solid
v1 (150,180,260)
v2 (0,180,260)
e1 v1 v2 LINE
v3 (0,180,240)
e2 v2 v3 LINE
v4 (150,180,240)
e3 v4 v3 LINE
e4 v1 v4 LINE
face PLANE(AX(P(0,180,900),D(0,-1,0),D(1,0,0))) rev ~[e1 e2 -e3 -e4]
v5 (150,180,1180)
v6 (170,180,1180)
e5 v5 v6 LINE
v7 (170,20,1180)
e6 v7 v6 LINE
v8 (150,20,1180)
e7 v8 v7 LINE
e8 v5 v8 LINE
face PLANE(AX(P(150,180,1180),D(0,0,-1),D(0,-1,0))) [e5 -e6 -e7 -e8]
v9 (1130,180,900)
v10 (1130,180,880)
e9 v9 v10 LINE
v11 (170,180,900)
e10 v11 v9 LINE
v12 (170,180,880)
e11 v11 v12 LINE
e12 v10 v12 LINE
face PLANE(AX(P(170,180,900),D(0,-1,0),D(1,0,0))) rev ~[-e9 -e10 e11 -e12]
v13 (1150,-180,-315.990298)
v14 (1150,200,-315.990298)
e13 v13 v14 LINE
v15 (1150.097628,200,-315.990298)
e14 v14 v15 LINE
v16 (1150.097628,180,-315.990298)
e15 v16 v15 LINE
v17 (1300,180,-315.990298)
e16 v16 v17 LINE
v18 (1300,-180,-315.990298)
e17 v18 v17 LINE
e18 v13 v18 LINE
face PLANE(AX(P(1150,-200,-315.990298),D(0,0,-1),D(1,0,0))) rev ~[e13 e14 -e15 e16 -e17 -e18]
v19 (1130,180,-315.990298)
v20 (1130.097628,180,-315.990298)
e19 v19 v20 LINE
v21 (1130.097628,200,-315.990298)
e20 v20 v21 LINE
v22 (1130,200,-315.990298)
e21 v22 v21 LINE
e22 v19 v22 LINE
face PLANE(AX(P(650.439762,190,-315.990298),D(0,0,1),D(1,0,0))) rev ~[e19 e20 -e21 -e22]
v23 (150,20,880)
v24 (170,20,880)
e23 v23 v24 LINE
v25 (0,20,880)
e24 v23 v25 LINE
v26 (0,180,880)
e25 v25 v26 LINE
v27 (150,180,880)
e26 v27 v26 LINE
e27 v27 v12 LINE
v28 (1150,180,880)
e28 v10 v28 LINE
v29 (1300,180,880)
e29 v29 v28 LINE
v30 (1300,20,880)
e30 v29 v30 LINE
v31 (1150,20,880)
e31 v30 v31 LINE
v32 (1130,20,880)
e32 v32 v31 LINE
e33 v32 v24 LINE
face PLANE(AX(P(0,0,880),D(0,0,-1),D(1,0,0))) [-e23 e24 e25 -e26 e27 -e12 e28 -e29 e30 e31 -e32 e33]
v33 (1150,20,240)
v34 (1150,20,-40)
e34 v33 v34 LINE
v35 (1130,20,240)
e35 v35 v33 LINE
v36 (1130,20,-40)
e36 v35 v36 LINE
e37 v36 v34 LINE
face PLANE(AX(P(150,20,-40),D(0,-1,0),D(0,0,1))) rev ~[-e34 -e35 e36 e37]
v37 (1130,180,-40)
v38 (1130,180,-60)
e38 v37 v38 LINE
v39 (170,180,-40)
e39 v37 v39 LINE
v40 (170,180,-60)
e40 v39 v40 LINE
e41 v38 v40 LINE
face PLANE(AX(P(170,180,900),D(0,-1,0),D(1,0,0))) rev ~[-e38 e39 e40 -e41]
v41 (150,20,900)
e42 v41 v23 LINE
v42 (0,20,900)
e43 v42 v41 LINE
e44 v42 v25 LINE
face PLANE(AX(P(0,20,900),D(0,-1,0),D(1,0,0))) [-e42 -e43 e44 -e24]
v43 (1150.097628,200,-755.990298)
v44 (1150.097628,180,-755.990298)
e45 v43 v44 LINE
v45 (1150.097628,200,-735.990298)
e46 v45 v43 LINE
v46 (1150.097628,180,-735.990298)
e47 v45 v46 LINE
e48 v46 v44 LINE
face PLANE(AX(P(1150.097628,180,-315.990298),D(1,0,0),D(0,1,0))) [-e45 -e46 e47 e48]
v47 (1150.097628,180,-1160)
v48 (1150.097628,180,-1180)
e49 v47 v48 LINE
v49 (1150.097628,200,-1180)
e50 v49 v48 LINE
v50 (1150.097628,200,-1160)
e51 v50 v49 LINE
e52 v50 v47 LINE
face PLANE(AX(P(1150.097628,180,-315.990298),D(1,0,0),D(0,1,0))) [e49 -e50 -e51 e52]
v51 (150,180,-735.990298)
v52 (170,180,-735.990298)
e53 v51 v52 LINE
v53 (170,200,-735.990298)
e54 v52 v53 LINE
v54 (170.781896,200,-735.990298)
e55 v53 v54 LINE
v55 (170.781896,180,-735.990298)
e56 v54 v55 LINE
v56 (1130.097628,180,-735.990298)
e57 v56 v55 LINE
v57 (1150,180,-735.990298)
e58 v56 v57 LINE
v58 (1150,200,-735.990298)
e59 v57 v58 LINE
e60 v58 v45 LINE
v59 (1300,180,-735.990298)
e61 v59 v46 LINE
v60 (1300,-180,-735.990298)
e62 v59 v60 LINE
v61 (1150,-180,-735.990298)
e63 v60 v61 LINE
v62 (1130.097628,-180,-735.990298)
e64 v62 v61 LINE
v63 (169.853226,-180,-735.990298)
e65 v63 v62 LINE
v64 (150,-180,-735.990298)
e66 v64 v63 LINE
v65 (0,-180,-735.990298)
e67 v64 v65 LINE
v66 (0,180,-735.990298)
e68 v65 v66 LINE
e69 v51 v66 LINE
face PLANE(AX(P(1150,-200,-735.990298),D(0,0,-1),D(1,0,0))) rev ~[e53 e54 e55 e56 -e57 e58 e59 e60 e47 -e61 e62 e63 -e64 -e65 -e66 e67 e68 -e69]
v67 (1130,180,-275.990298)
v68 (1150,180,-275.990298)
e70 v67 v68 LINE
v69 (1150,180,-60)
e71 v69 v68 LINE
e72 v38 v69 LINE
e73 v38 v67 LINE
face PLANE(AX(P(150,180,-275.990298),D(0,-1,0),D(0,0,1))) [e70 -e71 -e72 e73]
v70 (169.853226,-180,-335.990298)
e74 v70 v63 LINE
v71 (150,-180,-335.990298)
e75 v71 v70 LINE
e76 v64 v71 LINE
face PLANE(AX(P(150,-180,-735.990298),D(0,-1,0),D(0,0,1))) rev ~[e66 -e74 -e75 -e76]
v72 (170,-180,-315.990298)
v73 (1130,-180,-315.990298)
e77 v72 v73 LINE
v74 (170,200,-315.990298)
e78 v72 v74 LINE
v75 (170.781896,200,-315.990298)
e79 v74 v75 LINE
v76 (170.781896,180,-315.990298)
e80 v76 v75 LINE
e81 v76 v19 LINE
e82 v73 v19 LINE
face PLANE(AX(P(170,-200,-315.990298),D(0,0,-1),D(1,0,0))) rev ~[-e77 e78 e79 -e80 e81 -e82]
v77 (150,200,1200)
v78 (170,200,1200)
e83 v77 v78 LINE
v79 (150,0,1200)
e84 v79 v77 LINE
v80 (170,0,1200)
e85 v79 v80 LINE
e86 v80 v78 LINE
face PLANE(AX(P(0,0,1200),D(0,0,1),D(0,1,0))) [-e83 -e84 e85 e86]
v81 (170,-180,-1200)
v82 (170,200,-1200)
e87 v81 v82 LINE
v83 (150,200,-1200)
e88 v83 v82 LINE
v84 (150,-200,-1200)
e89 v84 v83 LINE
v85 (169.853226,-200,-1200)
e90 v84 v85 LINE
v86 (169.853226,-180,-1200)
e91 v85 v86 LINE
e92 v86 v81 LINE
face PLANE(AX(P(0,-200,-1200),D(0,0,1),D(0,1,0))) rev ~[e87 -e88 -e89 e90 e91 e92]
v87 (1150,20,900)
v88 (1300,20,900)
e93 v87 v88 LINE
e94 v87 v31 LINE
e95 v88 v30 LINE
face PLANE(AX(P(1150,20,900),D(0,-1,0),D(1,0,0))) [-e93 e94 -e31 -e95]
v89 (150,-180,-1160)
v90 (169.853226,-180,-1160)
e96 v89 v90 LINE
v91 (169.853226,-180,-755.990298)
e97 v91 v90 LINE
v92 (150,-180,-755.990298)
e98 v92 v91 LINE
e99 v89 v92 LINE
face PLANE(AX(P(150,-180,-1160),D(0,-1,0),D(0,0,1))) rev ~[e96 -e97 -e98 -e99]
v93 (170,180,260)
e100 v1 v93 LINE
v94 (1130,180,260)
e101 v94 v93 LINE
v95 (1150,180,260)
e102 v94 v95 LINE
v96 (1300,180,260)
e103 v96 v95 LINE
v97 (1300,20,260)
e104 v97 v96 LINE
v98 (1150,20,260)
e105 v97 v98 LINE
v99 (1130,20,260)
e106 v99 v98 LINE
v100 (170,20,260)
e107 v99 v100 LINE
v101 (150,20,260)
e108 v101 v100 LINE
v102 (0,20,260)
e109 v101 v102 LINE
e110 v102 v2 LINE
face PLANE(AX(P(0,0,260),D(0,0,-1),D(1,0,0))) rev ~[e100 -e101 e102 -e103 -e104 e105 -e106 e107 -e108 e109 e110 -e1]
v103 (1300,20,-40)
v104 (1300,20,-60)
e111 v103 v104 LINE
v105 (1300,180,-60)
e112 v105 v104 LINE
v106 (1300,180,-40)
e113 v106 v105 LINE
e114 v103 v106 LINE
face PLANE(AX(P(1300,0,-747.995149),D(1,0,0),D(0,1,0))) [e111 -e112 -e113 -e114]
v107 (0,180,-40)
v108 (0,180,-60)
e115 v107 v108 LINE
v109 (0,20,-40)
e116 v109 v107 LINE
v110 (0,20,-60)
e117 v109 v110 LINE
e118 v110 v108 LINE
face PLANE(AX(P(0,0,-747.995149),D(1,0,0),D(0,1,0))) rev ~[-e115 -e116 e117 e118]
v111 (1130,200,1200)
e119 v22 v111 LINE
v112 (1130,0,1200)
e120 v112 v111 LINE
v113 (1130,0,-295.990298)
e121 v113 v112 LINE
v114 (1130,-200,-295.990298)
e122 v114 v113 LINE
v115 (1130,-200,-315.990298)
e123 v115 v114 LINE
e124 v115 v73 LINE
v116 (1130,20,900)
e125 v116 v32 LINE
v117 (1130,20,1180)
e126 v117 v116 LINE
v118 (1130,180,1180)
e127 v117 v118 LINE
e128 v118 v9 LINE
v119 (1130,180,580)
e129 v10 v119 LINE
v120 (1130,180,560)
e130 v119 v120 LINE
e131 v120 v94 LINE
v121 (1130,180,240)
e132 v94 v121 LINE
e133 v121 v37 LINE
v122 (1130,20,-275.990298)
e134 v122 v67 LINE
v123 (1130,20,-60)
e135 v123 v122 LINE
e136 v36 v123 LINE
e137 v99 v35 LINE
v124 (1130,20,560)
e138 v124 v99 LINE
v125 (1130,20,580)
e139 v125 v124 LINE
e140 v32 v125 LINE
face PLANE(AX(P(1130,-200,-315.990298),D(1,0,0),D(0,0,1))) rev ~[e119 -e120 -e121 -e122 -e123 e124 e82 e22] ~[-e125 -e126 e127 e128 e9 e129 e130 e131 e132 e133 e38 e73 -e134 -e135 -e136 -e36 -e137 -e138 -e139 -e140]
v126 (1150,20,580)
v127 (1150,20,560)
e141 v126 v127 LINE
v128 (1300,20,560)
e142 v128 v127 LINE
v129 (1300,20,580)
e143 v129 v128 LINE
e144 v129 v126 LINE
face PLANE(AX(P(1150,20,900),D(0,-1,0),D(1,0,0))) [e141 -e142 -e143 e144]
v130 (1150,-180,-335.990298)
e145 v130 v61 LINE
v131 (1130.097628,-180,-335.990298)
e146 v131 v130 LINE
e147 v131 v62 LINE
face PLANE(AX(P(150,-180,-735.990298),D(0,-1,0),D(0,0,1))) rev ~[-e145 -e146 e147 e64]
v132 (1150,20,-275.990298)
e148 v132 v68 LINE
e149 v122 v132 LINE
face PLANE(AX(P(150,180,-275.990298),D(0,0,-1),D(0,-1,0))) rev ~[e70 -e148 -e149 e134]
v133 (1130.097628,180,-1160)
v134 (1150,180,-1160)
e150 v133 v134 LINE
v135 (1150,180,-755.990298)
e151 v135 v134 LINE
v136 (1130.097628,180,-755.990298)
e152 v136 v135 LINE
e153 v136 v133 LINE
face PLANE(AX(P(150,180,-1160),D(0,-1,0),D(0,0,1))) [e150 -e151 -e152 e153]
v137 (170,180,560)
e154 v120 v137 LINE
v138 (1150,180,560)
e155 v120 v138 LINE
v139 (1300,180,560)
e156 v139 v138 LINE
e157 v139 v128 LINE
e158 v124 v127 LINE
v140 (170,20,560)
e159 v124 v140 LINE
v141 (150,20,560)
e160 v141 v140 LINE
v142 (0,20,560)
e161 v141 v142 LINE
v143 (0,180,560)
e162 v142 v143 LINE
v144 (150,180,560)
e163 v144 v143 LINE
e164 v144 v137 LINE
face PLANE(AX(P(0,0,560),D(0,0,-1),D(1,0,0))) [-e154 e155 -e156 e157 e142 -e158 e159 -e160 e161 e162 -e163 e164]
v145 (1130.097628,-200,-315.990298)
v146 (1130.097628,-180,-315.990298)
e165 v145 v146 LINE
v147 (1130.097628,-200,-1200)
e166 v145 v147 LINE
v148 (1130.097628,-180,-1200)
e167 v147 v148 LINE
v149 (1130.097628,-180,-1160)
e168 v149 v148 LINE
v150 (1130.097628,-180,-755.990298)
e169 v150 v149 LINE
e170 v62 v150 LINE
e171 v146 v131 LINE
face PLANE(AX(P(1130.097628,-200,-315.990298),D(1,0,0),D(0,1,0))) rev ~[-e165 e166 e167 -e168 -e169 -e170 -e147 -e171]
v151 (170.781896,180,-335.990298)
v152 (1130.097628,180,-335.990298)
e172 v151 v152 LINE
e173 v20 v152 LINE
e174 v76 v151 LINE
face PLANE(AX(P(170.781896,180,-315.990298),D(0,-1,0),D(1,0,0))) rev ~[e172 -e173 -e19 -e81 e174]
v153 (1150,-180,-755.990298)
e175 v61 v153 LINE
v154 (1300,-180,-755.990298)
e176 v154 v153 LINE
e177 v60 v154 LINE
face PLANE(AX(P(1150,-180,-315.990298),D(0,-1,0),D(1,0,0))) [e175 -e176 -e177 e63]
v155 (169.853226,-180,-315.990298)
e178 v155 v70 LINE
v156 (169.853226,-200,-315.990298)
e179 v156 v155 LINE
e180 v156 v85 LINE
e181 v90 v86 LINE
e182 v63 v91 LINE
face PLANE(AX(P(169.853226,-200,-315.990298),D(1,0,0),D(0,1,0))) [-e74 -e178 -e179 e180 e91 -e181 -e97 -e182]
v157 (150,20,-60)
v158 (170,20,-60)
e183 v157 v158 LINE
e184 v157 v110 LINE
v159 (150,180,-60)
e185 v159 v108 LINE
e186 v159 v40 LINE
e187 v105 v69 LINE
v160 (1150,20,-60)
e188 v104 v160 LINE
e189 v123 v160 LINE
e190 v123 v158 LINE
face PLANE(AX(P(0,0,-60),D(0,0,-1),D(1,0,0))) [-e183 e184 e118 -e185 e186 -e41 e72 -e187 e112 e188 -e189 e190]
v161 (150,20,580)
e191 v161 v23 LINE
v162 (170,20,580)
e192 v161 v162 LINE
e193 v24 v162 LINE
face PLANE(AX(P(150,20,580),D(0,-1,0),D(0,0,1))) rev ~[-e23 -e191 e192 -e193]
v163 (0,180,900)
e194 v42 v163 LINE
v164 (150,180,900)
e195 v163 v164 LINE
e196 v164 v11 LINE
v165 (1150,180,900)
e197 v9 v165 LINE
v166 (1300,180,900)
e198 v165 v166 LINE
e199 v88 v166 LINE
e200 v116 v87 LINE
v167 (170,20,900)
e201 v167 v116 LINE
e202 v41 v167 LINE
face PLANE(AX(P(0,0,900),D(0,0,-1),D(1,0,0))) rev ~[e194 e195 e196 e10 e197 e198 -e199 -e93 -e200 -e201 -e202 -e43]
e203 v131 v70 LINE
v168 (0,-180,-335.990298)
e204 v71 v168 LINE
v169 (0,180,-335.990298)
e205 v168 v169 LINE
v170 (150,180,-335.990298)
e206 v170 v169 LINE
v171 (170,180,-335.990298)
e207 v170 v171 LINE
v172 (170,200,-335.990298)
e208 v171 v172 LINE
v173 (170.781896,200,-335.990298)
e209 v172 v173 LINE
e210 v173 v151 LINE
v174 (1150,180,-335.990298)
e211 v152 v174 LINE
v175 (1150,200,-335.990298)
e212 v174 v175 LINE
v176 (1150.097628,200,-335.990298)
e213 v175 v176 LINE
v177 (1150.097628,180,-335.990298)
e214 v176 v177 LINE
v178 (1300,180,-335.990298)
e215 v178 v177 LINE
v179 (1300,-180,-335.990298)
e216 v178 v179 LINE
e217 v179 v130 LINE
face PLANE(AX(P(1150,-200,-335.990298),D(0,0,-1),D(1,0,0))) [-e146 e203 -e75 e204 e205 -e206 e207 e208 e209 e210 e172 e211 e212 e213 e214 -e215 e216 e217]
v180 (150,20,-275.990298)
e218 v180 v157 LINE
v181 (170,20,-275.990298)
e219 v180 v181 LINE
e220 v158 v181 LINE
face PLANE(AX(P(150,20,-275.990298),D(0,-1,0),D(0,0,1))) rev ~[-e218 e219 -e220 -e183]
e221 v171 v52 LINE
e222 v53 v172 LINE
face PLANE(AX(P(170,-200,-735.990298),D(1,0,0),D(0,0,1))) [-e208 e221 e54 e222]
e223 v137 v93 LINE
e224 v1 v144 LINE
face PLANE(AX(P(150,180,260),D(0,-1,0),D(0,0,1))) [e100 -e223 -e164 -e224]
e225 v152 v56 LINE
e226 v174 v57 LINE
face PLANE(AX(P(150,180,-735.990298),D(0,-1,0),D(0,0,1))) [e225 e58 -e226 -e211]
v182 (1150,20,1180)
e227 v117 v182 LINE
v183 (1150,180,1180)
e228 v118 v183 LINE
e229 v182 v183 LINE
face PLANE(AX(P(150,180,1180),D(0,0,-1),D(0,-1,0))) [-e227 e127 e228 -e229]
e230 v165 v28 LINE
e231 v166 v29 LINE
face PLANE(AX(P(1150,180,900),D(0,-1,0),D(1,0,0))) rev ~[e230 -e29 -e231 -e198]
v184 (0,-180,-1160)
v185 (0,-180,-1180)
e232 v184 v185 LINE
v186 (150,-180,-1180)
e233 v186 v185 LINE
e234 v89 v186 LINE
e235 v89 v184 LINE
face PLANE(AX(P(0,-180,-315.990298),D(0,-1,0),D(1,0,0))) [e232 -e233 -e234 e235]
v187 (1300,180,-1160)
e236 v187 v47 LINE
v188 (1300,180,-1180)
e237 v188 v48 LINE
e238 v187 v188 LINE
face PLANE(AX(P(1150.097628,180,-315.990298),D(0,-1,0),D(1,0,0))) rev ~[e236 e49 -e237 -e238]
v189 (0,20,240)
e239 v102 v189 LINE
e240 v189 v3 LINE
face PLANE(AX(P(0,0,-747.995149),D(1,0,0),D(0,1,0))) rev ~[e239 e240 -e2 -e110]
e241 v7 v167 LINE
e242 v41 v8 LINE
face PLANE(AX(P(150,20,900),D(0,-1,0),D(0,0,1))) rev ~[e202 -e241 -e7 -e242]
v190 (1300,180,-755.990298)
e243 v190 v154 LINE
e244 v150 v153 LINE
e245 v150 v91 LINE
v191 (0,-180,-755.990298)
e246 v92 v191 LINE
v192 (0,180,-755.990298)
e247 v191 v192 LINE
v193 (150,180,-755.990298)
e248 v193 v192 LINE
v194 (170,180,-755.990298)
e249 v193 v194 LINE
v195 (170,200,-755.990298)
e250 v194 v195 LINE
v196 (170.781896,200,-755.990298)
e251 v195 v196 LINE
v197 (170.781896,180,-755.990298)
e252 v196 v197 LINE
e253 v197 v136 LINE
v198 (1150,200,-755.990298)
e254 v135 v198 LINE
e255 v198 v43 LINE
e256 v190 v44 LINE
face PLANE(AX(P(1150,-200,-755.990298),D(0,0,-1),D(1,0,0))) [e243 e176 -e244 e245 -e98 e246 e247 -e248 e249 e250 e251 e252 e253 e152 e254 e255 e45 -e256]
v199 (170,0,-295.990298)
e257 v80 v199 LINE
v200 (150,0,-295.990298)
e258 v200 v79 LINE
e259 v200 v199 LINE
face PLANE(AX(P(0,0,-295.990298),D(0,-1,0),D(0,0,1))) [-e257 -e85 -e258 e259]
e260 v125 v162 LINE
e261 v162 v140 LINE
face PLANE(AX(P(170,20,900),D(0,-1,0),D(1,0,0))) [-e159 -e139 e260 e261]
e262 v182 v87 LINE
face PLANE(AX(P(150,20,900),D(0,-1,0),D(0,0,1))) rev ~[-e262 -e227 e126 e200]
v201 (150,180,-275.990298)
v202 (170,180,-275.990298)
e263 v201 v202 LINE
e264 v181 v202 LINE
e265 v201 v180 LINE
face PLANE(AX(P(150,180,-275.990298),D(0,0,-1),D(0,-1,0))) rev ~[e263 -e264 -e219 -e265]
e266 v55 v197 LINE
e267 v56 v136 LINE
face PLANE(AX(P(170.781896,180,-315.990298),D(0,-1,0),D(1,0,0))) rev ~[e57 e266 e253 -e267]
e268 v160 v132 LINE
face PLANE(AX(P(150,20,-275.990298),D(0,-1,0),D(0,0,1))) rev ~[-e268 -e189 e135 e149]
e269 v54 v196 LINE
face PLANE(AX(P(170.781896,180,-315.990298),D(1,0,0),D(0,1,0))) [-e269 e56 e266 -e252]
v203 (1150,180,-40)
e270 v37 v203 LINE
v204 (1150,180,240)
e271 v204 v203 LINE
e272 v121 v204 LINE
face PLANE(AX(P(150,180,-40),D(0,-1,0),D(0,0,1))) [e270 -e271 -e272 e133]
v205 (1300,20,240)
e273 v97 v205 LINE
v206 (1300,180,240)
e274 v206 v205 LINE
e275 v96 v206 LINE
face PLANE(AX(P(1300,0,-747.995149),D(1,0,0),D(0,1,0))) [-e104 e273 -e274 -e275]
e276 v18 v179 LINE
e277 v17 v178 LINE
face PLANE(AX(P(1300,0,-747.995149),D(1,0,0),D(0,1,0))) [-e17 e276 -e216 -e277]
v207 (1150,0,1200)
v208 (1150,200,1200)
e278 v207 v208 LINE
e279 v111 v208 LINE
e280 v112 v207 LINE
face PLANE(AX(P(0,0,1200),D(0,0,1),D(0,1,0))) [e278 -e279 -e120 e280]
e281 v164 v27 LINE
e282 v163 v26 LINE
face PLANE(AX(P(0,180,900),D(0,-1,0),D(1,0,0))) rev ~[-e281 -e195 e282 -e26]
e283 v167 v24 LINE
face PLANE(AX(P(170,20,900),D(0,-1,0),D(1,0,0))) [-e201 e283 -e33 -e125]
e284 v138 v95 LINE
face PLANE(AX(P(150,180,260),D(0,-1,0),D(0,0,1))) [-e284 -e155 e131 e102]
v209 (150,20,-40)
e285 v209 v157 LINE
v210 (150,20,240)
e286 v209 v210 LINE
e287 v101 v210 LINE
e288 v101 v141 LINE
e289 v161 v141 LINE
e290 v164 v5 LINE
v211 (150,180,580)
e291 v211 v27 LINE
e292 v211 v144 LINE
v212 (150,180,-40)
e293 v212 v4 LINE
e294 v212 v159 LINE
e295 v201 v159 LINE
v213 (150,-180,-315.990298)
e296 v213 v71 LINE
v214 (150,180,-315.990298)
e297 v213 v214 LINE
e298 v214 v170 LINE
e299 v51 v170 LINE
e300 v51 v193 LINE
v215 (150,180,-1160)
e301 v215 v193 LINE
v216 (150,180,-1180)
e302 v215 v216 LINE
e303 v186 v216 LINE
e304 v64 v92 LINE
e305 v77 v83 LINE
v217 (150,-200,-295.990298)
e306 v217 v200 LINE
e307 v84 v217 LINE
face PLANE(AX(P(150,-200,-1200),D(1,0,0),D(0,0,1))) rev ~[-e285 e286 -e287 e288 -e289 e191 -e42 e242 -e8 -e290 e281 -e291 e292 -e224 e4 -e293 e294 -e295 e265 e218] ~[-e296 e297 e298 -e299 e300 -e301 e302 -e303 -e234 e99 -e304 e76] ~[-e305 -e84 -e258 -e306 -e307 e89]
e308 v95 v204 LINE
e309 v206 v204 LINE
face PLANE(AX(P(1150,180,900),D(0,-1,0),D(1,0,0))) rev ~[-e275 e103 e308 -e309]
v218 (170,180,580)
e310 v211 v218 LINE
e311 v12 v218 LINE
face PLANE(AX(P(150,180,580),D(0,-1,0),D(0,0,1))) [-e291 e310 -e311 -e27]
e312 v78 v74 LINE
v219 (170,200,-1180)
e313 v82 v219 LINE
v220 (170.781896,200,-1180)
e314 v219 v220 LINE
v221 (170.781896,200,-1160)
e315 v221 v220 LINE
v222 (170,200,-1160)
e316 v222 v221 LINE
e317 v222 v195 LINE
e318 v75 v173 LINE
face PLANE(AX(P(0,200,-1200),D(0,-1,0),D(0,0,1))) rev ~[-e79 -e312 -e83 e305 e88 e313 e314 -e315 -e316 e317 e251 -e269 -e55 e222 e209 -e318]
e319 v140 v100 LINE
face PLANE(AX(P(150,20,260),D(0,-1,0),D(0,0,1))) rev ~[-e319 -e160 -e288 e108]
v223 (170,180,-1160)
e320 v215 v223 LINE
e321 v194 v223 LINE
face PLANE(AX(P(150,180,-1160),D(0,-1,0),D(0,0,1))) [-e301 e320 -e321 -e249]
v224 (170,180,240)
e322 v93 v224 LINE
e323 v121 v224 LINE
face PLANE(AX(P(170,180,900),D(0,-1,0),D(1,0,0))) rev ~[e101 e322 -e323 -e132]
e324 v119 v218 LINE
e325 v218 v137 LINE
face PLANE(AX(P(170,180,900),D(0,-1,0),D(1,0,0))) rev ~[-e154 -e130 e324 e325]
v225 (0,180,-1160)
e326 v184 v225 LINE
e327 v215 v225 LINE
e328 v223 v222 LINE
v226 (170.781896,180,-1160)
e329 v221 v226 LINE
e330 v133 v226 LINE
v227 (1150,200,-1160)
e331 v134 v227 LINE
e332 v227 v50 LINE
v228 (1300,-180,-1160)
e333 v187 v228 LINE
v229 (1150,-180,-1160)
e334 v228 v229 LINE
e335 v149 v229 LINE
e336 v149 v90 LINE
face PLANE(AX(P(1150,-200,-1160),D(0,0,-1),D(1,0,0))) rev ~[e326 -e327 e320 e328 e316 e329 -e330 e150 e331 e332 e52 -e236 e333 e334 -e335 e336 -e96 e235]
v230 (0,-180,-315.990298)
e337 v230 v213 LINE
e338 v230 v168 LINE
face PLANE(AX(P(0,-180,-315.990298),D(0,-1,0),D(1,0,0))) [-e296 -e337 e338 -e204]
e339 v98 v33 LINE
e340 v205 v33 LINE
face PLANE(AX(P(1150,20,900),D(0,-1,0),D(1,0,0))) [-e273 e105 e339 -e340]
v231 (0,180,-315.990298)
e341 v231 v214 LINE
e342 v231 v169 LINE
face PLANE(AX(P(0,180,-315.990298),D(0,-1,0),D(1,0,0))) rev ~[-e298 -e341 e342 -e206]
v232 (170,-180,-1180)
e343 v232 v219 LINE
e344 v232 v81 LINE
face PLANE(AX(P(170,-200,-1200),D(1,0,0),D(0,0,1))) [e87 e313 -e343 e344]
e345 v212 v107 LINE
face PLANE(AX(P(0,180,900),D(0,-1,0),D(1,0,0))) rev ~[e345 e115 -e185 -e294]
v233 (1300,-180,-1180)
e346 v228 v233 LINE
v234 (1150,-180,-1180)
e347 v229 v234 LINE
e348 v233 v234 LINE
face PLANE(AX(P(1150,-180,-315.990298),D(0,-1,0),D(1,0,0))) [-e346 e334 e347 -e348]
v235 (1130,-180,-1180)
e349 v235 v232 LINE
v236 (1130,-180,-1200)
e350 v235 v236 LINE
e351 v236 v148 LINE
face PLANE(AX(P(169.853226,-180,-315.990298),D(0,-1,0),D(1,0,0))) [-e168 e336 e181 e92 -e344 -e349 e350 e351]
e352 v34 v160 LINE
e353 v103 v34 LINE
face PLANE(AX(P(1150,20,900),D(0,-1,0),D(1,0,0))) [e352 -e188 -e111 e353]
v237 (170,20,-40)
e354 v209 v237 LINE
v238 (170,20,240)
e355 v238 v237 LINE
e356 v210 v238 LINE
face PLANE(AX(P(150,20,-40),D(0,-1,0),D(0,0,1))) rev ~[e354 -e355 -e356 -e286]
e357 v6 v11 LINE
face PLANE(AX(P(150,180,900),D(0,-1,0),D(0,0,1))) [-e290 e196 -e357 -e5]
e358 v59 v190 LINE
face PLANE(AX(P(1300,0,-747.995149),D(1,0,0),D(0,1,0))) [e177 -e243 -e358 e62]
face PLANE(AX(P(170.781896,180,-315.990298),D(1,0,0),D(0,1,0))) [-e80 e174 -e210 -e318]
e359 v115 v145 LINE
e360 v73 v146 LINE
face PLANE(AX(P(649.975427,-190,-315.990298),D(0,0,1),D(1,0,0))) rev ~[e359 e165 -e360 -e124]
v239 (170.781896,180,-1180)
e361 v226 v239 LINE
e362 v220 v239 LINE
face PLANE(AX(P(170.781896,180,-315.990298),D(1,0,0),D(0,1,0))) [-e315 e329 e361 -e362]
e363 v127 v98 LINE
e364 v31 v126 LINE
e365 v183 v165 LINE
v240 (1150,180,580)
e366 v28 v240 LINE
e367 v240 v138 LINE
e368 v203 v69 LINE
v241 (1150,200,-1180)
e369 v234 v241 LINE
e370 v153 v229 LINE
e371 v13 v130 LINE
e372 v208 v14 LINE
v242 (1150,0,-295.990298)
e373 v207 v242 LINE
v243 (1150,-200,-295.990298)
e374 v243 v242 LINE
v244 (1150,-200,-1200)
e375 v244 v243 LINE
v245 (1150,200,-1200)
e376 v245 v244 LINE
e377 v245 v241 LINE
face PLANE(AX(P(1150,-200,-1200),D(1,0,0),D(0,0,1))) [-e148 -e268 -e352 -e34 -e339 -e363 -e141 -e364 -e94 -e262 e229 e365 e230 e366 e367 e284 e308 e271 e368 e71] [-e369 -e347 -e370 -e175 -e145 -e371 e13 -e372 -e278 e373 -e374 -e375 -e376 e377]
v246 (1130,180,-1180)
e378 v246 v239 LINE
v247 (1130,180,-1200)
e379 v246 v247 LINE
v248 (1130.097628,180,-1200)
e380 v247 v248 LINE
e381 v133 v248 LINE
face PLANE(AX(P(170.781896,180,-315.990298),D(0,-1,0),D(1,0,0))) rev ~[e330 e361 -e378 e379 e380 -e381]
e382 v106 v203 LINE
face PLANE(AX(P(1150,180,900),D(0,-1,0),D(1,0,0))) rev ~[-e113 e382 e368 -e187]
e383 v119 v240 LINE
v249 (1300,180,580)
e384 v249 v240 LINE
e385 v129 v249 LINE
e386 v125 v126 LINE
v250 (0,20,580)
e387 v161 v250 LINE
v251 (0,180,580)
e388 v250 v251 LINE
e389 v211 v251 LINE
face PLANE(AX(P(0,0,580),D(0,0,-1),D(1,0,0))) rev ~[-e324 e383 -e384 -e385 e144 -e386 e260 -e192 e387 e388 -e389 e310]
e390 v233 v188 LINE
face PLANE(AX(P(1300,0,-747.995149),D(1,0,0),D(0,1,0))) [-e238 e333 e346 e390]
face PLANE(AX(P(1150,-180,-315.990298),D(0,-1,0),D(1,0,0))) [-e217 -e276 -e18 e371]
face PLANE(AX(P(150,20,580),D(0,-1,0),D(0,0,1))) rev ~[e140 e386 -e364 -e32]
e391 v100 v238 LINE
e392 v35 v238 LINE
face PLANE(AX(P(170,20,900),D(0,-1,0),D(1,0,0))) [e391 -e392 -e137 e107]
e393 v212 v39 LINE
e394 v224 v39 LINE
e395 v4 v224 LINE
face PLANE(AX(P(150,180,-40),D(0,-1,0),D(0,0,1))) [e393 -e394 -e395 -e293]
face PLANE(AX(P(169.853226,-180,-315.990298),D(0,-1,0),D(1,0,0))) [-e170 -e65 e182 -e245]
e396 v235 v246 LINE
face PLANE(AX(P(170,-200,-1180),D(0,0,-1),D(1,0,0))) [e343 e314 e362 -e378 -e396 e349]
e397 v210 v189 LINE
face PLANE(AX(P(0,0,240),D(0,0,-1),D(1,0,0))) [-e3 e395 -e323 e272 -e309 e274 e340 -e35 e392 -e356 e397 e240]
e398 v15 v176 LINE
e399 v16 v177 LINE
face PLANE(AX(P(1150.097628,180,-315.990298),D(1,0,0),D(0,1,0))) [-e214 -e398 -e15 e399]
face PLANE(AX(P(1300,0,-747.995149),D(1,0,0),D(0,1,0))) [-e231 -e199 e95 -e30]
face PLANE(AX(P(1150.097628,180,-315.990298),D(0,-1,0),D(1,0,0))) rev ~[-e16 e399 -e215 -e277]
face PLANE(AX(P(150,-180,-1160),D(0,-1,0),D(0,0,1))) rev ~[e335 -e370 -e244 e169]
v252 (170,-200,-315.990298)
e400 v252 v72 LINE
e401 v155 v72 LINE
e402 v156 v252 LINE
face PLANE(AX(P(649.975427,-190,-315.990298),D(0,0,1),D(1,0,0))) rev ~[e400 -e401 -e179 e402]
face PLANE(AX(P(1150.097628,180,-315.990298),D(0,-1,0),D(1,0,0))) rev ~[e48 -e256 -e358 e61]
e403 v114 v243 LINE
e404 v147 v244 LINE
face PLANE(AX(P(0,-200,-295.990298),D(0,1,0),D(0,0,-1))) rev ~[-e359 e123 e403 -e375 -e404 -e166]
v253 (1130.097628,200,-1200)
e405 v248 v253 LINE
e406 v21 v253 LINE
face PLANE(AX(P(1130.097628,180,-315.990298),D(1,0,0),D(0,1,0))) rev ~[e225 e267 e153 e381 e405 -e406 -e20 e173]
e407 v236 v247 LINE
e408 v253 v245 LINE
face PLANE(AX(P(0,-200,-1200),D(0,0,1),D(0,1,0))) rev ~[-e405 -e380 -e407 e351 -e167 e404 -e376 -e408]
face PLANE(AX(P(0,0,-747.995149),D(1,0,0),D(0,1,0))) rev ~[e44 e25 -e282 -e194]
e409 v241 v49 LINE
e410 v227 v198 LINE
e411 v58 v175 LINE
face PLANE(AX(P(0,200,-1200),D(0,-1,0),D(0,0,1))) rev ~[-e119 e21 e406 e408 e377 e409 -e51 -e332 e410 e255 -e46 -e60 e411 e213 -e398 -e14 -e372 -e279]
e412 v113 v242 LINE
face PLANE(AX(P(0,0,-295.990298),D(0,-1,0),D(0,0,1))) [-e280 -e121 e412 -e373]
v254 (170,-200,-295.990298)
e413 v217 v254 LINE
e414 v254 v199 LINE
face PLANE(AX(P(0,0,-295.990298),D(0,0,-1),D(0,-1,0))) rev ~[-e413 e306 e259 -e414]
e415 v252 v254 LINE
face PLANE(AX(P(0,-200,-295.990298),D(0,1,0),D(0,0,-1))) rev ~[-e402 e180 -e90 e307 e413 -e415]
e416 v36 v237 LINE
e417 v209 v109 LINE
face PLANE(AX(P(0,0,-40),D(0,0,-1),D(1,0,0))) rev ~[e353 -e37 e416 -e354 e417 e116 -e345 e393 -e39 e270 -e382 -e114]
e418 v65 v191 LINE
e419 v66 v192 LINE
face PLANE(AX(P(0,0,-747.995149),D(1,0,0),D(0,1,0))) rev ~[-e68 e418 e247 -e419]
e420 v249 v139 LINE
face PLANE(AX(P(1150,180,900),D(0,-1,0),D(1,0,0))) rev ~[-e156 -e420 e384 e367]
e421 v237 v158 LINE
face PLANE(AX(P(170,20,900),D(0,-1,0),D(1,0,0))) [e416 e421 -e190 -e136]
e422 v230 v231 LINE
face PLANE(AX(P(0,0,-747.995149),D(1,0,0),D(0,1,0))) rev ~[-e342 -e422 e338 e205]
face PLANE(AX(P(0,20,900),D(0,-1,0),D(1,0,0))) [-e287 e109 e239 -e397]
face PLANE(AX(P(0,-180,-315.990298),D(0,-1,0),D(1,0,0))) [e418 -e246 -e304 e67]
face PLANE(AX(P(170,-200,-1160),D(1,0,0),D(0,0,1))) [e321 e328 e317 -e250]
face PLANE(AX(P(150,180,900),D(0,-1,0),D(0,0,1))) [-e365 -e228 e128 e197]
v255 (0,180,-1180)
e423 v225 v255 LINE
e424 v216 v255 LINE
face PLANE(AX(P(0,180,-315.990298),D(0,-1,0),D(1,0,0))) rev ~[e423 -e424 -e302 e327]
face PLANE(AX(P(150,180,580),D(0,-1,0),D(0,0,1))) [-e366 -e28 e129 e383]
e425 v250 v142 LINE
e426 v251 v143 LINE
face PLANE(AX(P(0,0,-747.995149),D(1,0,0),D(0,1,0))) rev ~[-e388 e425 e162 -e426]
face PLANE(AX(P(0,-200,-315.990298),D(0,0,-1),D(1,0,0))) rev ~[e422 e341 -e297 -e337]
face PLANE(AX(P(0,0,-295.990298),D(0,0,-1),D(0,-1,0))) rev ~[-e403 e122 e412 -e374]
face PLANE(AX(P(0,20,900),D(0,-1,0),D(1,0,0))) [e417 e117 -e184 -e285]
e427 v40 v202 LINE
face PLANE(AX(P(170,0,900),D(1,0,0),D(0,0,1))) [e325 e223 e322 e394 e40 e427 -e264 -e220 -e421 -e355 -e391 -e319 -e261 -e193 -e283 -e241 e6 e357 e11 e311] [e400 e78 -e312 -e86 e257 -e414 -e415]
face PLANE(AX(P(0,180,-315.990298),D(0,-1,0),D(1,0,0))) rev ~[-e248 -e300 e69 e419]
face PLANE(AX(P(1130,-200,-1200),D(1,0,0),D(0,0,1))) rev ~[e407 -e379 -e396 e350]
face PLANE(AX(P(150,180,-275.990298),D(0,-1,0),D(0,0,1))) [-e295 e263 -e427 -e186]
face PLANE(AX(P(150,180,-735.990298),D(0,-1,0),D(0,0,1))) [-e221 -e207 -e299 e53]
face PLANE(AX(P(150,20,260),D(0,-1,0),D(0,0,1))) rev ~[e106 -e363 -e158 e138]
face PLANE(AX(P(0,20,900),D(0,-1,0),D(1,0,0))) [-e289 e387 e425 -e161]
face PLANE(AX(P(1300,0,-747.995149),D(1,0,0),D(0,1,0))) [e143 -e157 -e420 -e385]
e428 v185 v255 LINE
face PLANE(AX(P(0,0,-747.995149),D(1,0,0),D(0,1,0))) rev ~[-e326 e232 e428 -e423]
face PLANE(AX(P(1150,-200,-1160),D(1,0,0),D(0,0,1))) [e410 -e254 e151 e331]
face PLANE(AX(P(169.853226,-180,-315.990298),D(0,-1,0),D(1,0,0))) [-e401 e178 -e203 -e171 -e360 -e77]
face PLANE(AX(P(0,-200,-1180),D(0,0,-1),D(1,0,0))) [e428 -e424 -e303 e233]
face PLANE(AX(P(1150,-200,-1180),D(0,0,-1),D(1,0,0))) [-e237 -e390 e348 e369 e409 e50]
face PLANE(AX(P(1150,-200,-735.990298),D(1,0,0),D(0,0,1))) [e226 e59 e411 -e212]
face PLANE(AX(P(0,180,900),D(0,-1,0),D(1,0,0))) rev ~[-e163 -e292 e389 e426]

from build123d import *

# Parameters (mm, degrees)
F0_W      = 200
F0_H      = 1495.990298
F1_DEPTH  = 1300
F2_W      = 150
F2_H      = 300
F2_W_2    = 960
F2_H_2    = 280
F2_H_3    = 235.990298
F3_DEPTH  = 200
F4_W      = 160
F4_H      = 280
F4_H_2    = 300
F4_H_3    = 215.990298
F5_DEPTH  = 1150.001
F6_W      = 150
F6_H      = 20
F6_W_2    = 960
F7_DEPTH  = 1195.990298
F8_W      = 150
F8_H      = 404.009702
F8_H_2    = 400
F8_W_2    = 960
F8_H_3    = 20
F9_DEPTH  = 400.001
F10_W     = 360
F10_H     = 400
F10_H_2   = 404.009702
F11_DEPTH = 1150.001
F12_W     = 150
F12_H     = 20
F12_W_2   = 959.315732
F12_W_3   = 960.244403
F13_DEPTH = 884.010702


with BuildPart() as f1:
    # F0 (on Right) → F1 (new body)
    with BuildSketch(Plane.YZ):
        Polygon((-200, -1200), (200, -1200), (200, -295.990298), (0, -295.990298), (-200, -295.990298), align=None)
        with Locations((100, 452.004851)):
            Rectangle(F0_W, F0_H)
    extrude(amount=F1_DEPTH)

    # F2 (on face) → F3 (cut, through all)
    with BuildSketch(Plane.XZ):
        with Locations((75, 1050)):
            Rectangle(F2_W, F2_H)
        with Locations((650, 1050)):
            Rectangle(F2_W_2, F2_H)
        with Locations((1225, 1050)):
            Rectangle(F2_W, F2_H)
        with Locations((75, 730)):
            Rectangle(F2_W, F2_H)
        with Locations((650, 730)):
            Rectangle(F2_W_2, F2_H)
        with Locations((1225, 730)):
            Rectangle(F2_W, F2_H)
        with Locations((75, 410)):
            Rectangle(F2_W, F2_H)
        with Locations((650, 410)):
            Rectangle(F2_W_2, F2_H)
        with Locations((1225, 410)):
            Rectangle(F2_W, F2_H)
        with Locations((75, 100)):
            Rectangle(F2_W, F2_H_2)
        with Locations((650, 100)):
            Rectangle(F2_W_2, F2_H_2)
        with Locations((1225, 100)):
            Rectangle(F2_W, F2_H_2)
        with Locations((75, -177.995149)):
            Rectangle(F2_W, F2_H_3)
        with Locations((650, -177.995149)):
            Rectangle(F2_W_2, F2_H_3)
        with Locations((1225, -177.995149)):
            Rectangle(F2_W, F2_H_3)
    extrude(amount=-F3_DEPTH, mode=Mode.SUBTRACT)

    # F4 (on face) → F5 (cut, through all)
    with BuildSketch(Plane(origin=(150, 0, 0), x_dir=(0, -1, 0), z_dir=(-1, 0, 0))):
        with Locations((-100, 1040)):
            Rectangle(F4_W, F4_H)
        with Locations((-100, 730)):
            Rectangle(F4_W, F4_H_2)
        with Locations((-100, 410)):
            Rectangle(F4_W, F4_H_2)
        with Locations((-100, 100)):
            Rectangle(F4_W, F4_H)
        with Locations((-100, -167.995149)):
            Rectangle(F4_W, F4_H_3)
    extrude(amount=-F5_DEPTH, mode=Mode.SUBTRACT)

    # F6 (on face) → F7 (cut, through all)
    with BuildSketch(Plane.XY.offset(900)):
        with Locations((75, 190)):
            Rectangle(F6_W, F6_H)
        with Locations((75, 10)):
            Rectangle(F6_W, F6_H)
        with Locations((1225, 190)):
            Rectangle(F6_W, F6_H)
        with Locations((1225, 10)):
            Rectangle(F6_W, F6_H)
        with Locations((650, 190)):
            Rectangle(F6_W_2, F6_H)
        with Locations((650, 10)):
            Rectangle(F6_W_2, F6_H)
    extrude(amount=-F7_DEPTH, mode=Mode.SUBTRACT)

    # F8 (on face) → F9 (cut, through all)
    with BuildSketch(Plane.XZ.offset(200)):
        with Locations((1225, -957.995149)):
            Rectangle(F8_W, F8_H)
        with Locations((1225, -535.990298)):
            Rectangle(F8_W, F8_H_2)
        with Locations((650, -535.990298)):
            Rectangle(F8_W_2, F8_H_2)
        with Locations((650, -957.995149)):
            Rectangle(F8_W_2, F8_H)
        with Locations((75, -535.990298)):
            Rectangle(F8_W, F8_H_2)
        with Locations((75, -957.995149)):
            Rectangle(F8_W, F8_H)
        with Locations((75, -305.990298)):
            Rectangle(F8_W, F8_H_3)
        with Locations((650, -305.990298)):
            Rectangle(F8_W_2, F8_H_3)
        with Locations((1225, -305.990298)):
            Rectangle(F8_W, F8_H_3)
        with Locations((75, -1190)):
            Rectangle(F8_W, F8_H_3)
        with Locations((650, -1190)):
            Rectangle(F8_W_2, F8_H_3)
        with Locations((1225, -1190)):
            Rectangle(F8_W, F8_H_3)
    extrude(amount=-F9_DEPTH, mode=Mode.SUBTRACT)

    # F10 (on face) → F11 (cut, through all)
    with BuildSketch(Plane(origin=(150, 0, 0), x_dir=(0, -1, 0), z_dir=(-1, 0, 0))):
        with Locations((0, -535.990298)):
            Rectangle(F10_W, F10_H)
        with Locations((0, -957.995149)):
            Rectangle(F10_W, F10_H_2)
    extrude(amount=-F11_DEPTH, mode=Mode.SUBTRACT)

    # F12 (on face) → F13 (cut, through all)
    with BuildSketch(Plane.XY.offset(-315.990298)):
        with Locations((75, 190)):
            Rectangle(F12_W, F12_H)
        with Locations((75, -190)):
            Rectangle(F12_W, F12_H)
        with Locations((650.439762, 190)):
            Rectangle(F12_W_2, F12_H)
        with Locations((1225.097628, 190)):
            Rectangle(F12_W, F12_H)
        with Locations((1225, -190)):
            Rectangle(F12_W, F12_H)
        with Locations((649.975427, -190)):
            Rectangle(F12_W_3, F12_H)
    extrude(amount=-F13_DEPTH, mode=Mode.SUBTRACT)


solid = f1.part
